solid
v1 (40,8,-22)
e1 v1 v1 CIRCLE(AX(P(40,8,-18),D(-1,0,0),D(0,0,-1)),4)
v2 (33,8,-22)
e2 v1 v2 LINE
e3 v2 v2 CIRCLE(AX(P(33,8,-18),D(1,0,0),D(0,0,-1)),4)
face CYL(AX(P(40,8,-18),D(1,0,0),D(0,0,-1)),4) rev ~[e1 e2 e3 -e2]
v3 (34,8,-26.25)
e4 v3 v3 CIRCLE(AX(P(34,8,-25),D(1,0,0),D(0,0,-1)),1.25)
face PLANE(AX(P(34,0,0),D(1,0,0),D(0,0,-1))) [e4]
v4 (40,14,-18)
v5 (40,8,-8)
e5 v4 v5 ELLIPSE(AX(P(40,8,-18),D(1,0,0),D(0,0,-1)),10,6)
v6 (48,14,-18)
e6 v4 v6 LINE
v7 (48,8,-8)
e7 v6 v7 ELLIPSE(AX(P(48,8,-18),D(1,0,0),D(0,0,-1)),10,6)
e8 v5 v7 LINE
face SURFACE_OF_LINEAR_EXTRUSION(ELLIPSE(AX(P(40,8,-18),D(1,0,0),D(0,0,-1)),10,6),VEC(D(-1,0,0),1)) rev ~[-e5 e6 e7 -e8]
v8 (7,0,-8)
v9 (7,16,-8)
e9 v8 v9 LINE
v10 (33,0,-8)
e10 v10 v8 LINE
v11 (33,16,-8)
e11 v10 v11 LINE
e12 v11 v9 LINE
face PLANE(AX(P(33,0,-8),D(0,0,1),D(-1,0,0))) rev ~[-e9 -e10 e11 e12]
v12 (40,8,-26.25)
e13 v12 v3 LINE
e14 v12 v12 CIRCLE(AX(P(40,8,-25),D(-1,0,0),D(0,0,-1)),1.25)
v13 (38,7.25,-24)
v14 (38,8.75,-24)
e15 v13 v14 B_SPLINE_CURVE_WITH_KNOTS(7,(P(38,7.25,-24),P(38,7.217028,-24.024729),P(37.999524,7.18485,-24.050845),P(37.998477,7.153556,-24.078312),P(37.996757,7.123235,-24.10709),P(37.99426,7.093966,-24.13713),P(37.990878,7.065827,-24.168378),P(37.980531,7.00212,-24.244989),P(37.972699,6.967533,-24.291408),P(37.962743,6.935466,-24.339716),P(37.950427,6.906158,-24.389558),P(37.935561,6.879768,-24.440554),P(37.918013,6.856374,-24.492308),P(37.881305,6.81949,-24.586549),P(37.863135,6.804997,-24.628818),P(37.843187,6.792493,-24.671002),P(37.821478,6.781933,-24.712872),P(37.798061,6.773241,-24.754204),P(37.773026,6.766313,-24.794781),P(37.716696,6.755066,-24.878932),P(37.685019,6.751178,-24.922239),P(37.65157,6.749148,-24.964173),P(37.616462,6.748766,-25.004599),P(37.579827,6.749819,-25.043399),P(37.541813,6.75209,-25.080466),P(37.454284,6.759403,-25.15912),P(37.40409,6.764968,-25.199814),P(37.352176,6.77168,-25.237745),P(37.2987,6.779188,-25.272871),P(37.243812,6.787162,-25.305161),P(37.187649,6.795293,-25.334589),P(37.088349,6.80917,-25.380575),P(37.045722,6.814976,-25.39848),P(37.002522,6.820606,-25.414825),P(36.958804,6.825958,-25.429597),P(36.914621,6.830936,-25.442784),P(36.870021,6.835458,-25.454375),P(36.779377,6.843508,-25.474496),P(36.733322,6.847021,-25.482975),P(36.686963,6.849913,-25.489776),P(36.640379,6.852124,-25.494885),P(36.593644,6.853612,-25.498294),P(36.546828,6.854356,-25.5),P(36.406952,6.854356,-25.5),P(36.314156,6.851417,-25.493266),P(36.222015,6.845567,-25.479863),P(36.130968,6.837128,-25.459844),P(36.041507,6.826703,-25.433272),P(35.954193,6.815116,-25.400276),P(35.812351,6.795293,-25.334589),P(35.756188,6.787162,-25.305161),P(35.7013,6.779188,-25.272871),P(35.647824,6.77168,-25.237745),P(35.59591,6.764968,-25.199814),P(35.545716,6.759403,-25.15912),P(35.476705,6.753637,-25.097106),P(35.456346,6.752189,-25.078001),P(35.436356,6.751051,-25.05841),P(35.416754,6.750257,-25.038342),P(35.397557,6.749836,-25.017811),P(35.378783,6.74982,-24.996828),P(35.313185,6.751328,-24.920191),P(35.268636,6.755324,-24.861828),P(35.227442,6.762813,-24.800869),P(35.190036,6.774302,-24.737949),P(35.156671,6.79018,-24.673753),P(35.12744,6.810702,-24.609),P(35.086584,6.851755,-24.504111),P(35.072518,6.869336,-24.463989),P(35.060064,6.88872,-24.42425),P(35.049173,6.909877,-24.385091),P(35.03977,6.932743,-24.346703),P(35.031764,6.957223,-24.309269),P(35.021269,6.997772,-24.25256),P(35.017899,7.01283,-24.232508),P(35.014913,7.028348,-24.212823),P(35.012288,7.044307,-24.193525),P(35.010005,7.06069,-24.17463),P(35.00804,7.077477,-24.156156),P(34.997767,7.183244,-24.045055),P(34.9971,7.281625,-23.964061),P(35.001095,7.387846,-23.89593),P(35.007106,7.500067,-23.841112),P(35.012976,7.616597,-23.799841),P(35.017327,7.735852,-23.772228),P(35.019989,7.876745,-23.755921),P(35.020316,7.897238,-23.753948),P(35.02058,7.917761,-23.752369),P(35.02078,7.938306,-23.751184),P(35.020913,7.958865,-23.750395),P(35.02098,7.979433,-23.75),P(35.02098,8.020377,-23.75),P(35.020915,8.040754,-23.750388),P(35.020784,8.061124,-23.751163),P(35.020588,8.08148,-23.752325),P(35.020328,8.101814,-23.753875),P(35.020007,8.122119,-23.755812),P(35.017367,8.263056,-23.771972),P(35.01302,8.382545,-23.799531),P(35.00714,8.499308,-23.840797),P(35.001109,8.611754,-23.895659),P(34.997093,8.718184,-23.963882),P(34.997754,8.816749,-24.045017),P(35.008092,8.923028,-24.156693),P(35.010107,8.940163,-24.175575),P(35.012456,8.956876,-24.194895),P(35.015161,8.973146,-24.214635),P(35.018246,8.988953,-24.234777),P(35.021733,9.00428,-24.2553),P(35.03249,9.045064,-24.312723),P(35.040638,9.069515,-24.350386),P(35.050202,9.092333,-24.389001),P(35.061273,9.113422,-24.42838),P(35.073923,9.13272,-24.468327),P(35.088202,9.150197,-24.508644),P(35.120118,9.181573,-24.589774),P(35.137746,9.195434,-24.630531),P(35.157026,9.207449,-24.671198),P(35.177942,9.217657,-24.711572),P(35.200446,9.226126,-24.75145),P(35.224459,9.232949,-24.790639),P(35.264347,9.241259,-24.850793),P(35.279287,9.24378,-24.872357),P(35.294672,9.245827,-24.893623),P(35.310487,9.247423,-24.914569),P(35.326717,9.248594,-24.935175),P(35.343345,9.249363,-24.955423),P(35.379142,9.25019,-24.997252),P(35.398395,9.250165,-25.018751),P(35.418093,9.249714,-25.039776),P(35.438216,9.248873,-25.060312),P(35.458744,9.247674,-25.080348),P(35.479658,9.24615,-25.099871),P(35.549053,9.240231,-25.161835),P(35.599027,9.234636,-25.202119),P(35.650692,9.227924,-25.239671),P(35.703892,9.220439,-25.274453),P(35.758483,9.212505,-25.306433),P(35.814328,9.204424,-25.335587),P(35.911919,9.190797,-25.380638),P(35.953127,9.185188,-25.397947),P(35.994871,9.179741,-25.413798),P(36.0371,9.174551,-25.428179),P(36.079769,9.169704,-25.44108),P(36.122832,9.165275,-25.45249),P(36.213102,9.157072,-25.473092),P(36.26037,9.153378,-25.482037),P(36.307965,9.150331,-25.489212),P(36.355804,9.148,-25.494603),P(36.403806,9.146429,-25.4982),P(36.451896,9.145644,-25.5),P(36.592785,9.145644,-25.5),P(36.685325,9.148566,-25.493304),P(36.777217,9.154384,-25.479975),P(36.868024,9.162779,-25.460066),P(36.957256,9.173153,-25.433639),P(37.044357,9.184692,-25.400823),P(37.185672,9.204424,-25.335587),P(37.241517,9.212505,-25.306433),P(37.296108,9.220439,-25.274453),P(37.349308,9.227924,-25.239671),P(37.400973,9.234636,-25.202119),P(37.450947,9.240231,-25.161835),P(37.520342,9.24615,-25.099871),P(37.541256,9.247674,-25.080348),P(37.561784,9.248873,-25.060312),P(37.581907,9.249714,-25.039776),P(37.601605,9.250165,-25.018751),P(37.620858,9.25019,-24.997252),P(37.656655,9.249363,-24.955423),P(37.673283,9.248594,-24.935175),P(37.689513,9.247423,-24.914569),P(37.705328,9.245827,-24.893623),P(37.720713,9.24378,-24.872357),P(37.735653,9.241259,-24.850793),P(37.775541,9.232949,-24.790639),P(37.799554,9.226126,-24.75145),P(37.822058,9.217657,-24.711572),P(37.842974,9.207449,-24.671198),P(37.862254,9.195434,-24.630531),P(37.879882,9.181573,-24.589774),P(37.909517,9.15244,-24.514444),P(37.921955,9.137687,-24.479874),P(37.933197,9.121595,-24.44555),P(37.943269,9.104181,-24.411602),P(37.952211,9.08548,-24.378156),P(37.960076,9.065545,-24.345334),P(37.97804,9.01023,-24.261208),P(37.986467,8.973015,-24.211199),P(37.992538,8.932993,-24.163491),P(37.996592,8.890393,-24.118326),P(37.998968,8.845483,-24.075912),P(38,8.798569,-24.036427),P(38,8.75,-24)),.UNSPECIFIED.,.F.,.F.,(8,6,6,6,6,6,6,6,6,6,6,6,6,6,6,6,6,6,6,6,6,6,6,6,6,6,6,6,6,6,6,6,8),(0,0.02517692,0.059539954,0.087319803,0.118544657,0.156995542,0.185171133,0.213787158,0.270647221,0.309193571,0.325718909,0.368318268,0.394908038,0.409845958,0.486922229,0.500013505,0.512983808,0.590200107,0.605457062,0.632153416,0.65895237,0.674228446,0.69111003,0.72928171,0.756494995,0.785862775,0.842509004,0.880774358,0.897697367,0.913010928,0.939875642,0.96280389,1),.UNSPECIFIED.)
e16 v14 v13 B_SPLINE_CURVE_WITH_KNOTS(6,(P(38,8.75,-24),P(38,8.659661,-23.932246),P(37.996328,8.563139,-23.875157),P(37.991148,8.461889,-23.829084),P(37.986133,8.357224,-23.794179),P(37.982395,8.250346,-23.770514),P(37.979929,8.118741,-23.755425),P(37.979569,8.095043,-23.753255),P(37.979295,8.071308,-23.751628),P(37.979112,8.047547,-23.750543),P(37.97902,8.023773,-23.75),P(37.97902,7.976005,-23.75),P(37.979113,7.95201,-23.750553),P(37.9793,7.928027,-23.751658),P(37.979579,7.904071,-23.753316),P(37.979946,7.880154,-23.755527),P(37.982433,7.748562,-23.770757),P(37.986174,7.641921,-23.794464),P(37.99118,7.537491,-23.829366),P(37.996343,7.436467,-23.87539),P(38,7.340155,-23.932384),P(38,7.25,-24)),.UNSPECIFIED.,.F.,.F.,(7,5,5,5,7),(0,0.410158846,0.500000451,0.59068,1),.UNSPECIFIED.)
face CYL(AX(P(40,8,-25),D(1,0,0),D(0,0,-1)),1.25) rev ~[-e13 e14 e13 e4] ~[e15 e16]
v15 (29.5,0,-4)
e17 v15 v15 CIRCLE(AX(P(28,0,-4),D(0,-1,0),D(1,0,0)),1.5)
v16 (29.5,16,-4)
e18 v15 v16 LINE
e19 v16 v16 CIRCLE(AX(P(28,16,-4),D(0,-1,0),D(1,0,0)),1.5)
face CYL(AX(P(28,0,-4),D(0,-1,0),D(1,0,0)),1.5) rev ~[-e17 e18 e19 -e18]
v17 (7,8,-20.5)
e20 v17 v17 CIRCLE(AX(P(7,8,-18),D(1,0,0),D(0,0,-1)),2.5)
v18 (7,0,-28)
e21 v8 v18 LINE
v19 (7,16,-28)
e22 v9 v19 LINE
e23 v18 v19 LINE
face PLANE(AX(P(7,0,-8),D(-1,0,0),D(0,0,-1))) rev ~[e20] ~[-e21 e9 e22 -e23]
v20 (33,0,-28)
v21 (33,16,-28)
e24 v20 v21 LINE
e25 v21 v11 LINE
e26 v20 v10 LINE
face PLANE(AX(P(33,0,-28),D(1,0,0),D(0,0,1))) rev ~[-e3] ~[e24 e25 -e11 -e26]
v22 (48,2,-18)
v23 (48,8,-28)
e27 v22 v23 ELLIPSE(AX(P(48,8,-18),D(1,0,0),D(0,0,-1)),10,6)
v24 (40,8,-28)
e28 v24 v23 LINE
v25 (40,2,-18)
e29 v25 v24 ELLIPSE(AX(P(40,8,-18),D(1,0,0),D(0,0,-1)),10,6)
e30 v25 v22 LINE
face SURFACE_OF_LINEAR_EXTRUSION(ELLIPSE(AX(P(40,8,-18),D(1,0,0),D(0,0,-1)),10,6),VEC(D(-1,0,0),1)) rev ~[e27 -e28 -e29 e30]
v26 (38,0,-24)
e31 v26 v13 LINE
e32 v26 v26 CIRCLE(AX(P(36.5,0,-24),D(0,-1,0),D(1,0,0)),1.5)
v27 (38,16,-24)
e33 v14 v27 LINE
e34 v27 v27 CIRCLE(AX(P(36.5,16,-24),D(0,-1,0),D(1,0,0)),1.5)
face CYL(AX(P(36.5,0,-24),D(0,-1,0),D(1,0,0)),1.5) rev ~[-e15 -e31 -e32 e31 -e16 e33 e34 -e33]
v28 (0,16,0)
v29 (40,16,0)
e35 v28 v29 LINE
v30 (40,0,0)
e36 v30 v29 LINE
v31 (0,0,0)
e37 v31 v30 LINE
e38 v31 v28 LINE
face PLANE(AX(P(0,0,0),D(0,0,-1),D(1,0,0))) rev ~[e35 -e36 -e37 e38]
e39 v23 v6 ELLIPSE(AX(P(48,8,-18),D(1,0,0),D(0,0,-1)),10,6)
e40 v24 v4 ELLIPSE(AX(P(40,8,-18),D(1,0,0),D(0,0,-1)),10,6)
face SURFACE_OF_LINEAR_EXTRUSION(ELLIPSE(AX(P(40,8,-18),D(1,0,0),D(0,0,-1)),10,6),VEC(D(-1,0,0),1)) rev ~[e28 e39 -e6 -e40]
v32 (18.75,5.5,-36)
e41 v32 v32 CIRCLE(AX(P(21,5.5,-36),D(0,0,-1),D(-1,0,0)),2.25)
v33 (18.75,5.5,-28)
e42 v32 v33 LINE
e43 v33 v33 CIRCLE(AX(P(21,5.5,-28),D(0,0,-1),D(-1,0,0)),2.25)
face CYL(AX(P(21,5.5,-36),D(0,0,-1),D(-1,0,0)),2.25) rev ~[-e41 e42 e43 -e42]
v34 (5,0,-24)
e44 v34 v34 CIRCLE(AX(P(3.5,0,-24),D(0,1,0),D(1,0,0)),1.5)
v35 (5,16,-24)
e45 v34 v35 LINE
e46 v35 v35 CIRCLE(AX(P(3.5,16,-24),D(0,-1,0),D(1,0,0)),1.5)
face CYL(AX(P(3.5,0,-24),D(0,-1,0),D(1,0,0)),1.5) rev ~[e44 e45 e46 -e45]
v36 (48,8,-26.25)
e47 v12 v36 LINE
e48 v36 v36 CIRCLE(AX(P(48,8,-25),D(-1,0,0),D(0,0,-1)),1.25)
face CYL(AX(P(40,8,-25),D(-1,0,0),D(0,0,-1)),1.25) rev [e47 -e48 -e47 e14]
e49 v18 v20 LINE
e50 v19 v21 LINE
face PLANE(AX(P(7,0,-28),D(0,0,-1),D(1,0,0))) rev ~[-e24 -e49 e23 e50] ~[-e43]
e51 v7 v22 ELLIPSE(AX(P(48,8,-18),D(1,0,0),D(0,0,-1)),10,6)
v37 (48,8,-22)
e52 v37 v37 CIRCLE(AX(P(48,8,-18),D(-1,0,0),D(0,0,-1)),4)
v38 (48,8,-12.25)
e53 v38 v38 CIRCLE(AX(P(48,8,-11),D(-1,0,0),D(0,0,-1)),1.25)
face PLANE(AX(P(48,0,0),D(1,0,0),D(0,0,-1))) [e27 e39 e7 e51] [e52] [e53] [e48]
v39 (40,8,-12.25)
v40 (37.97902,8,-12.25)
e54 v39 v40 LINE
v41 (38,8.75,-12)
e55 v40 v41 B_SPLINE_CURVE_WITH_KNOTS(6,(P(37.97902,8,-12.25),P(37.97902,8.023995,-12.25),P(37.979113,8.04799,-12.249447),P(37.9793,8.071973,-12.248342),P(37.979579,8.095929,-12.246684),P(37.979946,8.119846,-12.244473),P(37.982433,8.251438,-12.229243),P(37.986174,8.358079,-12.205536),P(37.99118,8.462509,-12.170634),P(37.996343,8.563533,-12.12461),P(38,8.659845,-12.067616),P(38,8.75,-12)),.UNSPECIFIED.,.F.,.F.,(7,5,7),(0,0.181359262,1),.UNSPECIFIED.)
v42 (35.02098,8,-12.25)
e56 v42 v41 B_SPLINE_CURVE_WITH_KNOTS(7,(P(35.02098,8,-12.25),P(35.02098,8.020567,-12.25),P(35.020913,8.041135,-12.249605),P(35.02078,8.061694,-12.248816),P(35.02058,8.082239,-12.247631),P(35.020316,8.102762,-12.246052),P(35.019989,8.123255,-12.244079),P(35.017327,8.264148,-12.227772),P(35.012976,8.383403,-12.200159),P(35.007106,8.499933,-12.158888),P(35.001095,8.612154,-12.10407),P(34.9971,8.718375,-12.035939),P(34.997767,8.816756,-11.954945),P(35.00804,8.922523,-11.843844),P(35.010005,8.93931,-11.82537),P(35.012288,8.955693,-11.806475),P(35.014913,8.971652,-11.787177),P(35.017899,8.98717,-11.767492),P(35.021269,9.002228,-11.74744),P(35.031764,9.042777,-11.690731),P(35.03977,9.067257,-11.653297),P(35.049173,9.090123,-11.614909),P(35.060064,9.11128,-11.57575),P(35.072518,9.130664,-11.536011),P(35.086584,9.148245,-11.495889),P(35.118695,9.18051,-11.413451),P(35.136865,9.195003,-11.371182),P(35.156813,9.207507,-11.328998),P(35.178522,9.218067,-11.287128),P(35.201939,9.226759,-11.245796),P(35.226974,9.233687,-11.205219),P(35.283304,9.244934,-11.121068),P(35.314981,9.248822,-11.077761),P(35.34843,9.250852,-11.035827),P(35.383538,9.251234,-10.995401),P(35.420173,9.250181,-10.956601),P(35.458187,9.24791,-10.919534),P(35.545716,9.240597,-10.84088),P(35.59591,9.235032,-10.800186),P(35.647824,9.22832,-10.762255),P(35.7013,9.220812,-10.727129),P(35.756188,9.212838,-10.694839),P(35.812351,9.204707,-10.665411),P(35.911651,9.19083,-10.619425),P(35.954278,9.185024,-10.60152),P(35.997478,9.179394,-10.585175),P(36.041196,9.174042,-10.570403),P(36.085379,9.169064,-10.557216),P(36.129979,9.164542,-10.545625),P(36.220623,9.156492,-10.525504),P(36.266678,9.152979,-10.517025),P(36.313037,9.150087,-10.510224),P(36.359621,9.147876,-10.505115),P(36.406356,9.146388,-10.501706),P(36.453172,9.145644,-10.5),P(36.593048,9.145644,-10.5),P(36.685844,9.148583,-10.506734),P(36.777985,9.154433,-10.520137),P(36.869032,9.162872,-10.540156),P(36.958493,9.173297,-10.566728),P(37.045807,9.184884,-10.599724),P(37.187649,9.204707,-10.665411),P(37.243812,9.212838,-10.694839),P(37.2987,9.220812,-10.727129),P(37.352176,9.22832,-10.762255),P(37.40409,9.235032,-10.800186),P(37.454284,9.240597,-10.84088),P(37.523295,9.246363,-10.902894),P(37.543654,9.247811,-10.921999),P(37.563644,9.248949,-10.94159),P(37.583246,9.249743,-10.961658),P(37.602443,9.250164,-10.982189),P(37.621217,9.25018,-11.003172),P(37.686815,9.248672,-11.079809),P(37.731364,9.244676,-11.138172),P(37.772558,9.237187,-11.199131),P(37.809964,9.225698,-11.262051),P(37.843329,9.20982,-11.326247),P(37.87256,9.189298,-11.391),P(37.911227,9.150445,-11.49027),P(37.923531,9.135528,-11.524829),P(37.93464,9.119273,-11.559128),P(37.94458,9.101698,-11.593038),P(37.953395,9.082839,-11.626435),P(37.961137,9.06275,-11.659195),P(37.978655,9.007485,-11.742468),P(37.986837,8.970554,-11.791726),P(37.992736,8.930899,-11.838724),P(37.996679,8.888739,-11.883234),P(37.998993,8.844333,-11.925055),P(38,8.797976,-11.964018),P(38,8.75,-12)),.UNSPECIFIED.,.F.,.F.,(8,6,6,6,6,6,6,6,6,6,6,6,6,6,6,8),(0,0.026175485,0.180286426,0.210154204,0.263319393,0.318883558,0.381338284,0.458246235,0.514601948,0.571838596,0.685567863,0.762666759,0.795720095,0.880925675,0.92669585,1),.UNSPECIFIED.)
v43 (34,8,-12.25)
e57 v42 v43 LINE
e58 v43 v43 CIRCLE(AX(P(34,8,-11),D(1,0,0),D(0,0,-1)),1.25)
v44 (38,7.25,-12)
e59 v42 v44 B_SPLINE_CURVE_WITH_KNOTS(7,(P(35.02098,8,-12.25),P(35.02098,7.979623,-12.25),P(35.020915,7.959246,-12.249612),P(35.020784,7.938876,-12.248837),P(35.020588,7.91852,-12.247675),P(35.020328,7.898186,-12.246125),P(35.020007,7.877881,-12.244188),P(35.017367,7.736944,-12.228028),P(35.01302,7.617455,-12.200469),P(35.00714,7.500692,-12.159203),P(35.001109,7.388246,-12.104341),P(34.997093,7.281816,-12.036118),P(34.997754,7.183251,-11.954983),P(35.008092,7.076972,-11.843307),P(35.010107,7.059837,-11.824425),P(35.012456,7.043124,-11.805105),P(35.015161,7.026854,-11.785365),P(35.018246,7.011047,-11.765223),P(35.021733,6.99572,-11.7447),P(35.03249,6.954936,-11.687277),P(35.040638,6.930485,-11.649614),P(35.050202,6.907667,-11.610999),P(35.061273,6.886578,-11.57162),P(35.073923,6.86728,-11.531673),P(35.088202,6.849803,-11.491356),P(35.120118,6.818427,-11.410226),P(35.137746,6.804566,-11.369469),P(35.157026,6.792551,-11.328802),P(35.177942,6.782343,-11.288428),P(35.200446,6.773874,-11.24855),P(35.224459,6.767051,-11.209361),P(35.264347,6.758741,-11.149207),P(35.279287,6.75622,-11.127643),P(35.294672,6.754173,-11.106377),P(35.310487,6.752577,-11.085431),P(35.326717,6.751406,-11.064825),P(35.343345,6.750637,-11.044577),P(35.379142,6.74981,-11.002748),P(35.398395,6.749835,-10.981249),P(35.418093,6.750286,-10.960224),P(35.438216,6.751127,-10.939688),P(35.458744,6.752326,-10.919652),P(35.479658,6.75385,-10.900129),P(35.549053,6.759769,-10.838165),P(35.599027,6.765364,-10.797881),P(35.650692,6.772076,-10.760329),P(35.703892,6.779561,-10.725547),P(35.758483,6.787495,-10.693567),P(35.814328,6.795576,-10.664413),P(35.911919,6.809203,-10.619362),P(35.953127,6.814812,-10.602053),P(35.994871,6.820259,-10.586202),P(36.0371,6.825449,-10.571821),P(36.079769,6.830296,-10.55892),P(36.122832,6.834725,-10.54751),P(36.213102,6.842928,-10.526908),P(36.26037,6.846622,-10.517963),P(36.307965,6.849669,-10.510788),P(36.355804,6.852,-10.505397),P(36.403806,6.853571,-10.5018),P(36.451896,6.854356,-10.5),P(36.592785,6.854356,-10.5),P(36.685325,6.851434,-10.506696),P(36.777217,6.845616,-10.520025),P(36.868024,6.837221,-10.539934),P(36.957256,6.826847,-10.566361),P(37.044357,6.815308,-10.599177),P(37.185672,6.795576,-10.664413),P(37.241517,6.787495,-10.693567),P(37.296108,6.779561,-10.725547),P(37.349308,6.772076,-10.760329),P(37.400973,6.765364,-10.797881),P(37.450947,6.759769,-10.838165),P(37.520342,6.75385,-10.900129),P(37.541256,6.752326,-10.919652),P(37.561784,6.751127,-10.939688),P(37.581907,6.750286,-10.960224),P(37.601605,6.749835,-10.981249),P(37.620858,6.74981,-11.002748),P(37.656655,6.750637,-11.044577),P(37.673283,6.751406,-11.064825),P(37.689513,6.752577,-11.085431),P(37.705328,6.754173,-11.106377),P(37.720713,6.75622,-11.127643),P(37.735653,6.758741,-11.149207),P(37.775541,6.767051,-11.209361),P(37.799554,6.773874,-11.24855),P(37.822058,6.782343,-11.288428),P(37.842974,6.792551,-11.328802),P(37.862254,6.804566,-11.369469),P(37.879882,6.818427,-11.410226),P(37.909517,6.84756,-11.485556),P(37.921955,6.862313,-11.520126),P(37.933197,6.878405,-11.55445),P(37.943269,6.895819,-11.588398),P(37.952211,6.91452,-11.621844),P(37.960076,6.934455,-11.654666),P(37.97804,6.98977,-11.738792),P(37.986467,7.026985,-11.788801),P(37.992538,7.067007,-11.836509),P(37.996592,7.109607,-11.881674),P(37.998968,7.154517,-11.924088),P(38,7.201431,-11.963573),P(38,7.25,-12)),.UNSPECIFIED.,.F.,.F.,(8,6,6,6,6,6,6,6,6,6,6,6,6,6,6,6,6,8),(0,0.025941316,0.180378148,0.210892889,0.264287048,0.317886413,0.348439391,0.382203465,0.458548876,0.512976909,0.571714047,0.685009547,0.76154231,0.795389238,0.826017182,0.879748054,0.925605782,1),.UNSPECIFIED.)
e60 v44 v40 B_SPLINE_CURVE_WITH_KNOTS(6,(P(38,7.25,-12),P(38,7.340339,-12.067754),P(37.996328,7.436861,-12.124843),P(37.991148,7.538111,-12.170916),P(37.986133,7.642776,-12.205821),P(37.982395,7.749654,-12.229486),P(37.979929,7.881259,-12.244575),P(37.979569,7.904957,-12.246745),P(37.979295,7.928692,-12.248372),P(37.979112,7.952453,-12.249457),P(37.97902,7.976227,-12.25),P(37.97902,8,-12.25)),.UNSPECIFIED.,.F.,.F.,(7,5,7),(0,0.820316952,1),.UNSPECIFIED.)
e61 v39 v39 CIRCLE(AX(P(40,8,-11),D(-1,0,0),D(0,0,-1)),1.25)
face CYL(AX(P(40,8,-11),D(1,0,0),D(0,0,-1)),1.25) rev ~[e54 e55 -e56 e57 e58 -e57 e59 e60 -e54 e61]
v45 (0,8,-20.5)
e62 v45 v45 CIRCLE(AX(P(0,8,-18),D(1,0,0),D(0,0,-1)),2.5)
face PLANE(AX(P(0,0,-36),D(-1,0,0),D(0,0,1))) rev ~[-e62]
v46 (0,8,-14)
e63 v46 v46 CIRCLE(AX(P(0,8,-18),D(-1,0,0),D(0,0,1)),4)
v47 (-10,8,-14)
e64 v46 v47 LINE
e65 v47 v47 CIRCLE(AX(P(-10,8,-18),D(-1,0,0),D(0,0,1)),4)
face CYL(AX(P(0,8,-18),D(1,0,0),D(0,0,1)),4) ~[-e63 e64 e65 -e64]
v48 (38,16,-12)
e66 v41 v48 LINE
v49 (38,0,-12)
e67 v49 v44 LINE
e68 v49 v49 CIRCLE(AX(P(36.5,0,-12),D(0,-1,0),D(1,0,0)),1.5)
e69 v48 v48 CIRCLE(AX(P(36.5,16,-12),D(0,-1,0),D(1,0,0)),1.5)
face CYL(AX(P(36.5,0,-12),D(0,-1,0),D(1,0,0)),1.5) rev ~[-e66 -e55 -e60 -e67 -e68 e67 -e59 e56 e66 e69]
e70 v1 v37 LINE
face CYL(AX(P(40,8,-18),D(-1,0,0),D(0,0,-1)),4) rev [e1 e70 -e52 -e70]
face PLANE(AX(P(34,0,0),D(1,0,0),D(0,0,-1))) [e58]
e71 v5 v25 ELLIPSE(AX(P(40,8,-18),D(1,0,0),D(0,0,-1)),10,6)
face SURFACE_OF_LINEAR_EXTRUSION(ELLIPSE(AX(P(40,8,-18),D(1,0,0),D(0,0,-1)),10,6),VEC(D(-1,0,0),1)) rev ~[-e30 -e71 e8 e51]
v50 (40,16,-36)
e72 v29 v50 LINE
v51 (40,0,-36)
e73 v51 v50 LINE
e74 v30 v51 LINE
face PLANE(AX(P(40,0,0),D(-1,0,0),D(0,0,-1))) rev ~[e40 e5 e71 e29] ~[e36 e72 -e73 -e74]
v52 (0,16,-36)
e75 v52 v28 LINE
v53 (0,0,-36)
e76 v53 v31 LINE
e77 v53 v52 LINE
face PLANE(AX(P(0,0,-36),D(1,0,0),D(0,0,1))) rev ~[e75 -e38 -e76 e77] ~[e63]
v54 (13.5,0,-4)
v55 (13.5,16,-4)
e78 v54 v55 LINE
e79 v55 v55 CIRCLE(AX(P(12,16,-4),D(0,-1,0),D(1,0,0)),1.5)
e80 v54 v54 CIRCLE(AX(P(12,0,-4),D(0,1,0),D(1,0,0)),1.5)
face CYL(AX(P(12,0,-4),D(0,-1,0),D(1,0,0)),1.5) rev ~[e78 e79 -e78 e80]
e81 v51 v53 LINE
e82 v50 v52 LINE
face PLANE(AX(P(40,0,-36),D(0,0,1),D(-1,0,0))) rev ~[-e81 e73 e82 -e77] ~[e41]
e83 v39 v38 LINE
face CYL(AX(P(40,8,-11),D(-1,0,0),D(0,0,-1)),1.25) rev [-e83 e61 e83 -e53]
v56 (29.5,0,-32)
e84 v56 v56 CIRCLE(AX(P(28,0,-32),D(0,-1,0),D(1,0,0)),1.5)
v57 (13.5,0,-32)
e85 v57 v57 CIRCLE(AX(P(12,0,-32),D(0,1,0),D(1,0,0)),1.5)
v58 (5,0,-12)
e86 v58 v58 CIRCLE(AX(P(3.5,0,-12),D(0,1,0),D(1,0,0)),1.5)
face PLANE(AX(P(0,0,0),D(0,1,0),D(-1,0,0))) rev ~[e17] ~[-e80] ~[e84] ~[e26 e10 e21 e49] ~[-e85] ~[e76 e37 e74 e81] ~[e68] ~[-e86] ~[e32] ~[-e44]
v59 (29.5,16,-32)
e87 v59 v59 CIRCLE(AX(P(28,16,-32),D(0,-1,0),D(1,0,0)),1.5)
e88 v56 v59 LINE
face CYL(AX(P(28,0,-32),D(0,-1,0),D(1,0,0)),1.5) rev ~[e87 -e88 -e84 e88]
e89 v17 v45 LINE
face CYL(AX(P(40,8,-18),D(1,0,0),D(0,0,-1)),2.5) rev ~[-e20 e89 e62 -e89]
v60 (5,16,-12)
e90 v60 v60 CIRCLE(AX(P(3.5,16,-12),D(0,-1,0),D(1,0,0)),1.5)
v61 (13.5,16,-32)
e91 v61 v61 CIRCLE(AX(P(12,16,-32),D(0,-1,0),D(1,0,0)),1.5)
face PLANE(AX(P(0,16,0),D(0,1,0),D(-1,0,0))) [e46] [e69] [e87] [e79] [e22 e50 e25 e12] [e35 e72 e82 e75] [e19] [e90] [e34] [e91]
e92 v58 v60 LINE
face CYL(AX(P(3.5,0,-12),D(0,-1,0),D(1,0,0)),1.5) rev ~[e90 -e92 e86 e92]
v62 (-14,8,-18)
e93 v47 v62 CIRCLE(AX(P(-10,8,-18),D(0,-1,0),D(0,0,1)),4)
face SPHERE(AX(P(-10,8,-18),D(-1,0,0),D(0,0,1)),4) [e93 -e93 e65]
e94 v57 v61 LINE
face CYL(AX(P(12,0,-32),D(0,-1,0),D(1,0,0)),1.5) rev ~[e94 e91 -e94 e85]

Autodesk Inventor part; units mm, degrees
ref_plane "YZ Plane" through (0, 0, 0) normal (1, 0, 0) x (0, 1, 0)
ref_plane "XZ Plane" through (0, 0, 0) normal (0, 1, 0) x (-1, 0, 0)
ref_plane "XY Plane" through (0, 0, 0) normal (0, 0, 1) x (1, 0, 0)
sketch "Sketch1" plane through (0, 0, 0) normal (0, 1, 0) x (-1, 0, 0)
  line L0 (0, 0) -> (-40, 0)
  line L1 (-40, 0) -> (-40, -36)
  line L2 (-40, -36) -> (0, -36)
  line L3 (0, -36) -> (0, 0)
  line L4 (-7, -28) -> (-33, -28)
  line L5 (-33, -28) -> (-33, -8)
  line L6 (-33, -8) -> (-7, -8)
  line L7 (-7, -8) -> (-7, -28)
  dimension "d0" = 40
  dimension "d1" = 36
  dimension "d2" = 26
extrude "Extrusion1" add sketch "Sketch1" along normal blind 16
sketch "Sketch2" plane through (40, 0, 0) normal (1, 0, 0) x (0, 0, -1)
  line L0 (0, 0) -> (0, 16)
  line L1 (0, 8) -> (8, 8)
  line L2 (28, 0) -> (28, 16)
  line L3 (18, 14) -> (18, 2)
  ellipse E0 centre (18, 8) end of major axis (28, 8) minor radius 6
  line L4 (6.75, 0) -> (6.75, 16)
  line L5 (6.75, 8) -> (9.75, 8)
  circle A0 centre (11, 8) radius 1.25
  circle A1 centre (25, 8) radius 1.25
  circle A2 centre (18, 8) radius 2.5
  line L6 (12.25, 8) -> (15.5, 8)
  line L7 (20.5, 8) -> (23.75, 8)
  line L8 (20.5, 8) -> (23.75, 8)
  line L9 (26.25, 8) -> (28, 8)
  line L10 (8, 8) -> (9.75, 8)
  line L11 (12.25, 8) -> (15.5, 8)
  circle A3 centre (18, 8) radius 4
  line L12 (18, 8) -> (18, 10.5)
  line L13 (18, 12) -> (18, 14)
  dimension "d18" = 8
  dimension "d47" = 10
  dimension "d48" = 6
  dimension "d5" = 8
  dimension "d6" = 20
  dimension "d7" = 6
  dimension "d8" = 12
  dimension "d9" = 3
  dimension "d10" = 14
  dimension "d11" = 2.5
  dimension "d12" = 2.5
  dimension "d13" = 5
  dimension "d49" = 21.25
  dimension "d50" = 28
  dimension "d51" = 0
  dimension "d52" = 0
  dimension "d53" = 0
  dimension "d54" = 28
  dimension "d55" = 8
  dimension "d56" = 8
  dimension "d57" = 1.75
  dimension "d58" = 15.75
  dimension "d59" = 8
  dimension "d60" = 8
  dimension "d61" = 28
  dimension "d62" = 8
extrude "Extrusion3" cut sketch "Sketch2" against normal blind 6 contours A1 | A0
extrude "Extrusion4" cut sketch "Sketch2" against normal blind 40 contours A2 L3 | L3 A2
extrude "Extrusion5" cut sketch "Sketch2" against normal blind 8 contours A3 L7 A2 L3 | L3 A2 L6 A3 | A3 L3 A2 L7 | L6 A2 L3 A3
extrude "Extrusion6" add sketch "Sketch2" along normal blind 8 contours E0 L9 A1 L7 A3 L3 | L3 A3 L6 A0 L5 E0 | E0 L3 A3 L7 A1 L9 | L5 A0 L6 A3 L3 E0
sketch "Sketch3" plane through (0, 0, 0) normal (0, -1, 0) x (1, 0, 0)
  line L0 (0, -20.5) -> (0, -15.5)
  line L1 (0, -18) -> (7, -18)
  line L2 (7, -8) -> (7, -28)
  line L3 (3.5, -18) -> (3.5, -12)
  line L4 (3.5, -12) -> (3.5, -24)
  line L5 (7, -28) -> (7, -36)
  line L6 (40, -36) -> (0, -36)
  line L7 (7, -32) -> (12, -32)
  line L8 (7, -8) -> (7, 0)
  line L9 (7, 0) -> (7, -4)
  line L10 (12, -4) -> (7, -4)
  circle A0 centre (12, -4) radius 1.5
  circle A1 centre (12, -32) radius 1.5
  circle A2 centre (3.5, -24) radius 1.5
  circle A3 centre (3.5, -12) radius 1.5
  line L11 (20, -36) -> (20, 0) construction
  line L12 (0, 0) -> (40, 0) construction
  circle A4 centre (28, -32) radius 1.5
  circle A5 centre (36.5, -24) radius 1.5
  circle A6 centre (36.5, -12) radius 1.5
  circle A7 centre (28, -4) radius 1.5
  dimension "d25" = 6
  dimension "d26" = 12
  dimension "d27" = 5
  dimension "d28" = 3
  dimension "d29" = 3
  dimension "d30" = 3
  dimension "d31" = 3
  dimension "d32" = 90
  dimension "d33" = 32
  dimension "d34" = 4
  dimension "d35" = 18
  dimension "d36" = 36
  dimension "d37" = 13
  dimension "d38" = 16.5
  dimension "d39" = 36
  dimension "d40" = 20
  dimension "d41" = 20
  dimension "d42" = 20
  dimension "d43" = 8
  dimension "d44" = 20.5
extrude "Extrusion7" cut sketch "Sketch3" against normal blind 16
sketch "Sketch4" plane through (0, 0, -36) normal (-1, 0, 0) x (0, 0, 1)
  circle A0 centre (18, 8) radius 4
  point P0 (36, 0)
  dimension "d63" = 8
extrude "Extrusion9" add sketch "Sketch4" along normal blind 14
fillet "Fillet1" radius 4 1 edges at (-14, 8, -22)
sketch "Sketch6" plane through (40, 0, -36) normal (0, 0, -1) x (-1, 0, 0)
  line L0 (33, 5.5) -> (40, 5.5) projected
  circle A0 centre (19, 5.5) radius 2.25
  point P0 (40, 0)
  dimension "d73" = 4.5
  dimension "d74" = 21
extrude "Extrusion11" cut sketch "Sketch6" against normal blind 10
properties part number "reverse gear steam chest"
